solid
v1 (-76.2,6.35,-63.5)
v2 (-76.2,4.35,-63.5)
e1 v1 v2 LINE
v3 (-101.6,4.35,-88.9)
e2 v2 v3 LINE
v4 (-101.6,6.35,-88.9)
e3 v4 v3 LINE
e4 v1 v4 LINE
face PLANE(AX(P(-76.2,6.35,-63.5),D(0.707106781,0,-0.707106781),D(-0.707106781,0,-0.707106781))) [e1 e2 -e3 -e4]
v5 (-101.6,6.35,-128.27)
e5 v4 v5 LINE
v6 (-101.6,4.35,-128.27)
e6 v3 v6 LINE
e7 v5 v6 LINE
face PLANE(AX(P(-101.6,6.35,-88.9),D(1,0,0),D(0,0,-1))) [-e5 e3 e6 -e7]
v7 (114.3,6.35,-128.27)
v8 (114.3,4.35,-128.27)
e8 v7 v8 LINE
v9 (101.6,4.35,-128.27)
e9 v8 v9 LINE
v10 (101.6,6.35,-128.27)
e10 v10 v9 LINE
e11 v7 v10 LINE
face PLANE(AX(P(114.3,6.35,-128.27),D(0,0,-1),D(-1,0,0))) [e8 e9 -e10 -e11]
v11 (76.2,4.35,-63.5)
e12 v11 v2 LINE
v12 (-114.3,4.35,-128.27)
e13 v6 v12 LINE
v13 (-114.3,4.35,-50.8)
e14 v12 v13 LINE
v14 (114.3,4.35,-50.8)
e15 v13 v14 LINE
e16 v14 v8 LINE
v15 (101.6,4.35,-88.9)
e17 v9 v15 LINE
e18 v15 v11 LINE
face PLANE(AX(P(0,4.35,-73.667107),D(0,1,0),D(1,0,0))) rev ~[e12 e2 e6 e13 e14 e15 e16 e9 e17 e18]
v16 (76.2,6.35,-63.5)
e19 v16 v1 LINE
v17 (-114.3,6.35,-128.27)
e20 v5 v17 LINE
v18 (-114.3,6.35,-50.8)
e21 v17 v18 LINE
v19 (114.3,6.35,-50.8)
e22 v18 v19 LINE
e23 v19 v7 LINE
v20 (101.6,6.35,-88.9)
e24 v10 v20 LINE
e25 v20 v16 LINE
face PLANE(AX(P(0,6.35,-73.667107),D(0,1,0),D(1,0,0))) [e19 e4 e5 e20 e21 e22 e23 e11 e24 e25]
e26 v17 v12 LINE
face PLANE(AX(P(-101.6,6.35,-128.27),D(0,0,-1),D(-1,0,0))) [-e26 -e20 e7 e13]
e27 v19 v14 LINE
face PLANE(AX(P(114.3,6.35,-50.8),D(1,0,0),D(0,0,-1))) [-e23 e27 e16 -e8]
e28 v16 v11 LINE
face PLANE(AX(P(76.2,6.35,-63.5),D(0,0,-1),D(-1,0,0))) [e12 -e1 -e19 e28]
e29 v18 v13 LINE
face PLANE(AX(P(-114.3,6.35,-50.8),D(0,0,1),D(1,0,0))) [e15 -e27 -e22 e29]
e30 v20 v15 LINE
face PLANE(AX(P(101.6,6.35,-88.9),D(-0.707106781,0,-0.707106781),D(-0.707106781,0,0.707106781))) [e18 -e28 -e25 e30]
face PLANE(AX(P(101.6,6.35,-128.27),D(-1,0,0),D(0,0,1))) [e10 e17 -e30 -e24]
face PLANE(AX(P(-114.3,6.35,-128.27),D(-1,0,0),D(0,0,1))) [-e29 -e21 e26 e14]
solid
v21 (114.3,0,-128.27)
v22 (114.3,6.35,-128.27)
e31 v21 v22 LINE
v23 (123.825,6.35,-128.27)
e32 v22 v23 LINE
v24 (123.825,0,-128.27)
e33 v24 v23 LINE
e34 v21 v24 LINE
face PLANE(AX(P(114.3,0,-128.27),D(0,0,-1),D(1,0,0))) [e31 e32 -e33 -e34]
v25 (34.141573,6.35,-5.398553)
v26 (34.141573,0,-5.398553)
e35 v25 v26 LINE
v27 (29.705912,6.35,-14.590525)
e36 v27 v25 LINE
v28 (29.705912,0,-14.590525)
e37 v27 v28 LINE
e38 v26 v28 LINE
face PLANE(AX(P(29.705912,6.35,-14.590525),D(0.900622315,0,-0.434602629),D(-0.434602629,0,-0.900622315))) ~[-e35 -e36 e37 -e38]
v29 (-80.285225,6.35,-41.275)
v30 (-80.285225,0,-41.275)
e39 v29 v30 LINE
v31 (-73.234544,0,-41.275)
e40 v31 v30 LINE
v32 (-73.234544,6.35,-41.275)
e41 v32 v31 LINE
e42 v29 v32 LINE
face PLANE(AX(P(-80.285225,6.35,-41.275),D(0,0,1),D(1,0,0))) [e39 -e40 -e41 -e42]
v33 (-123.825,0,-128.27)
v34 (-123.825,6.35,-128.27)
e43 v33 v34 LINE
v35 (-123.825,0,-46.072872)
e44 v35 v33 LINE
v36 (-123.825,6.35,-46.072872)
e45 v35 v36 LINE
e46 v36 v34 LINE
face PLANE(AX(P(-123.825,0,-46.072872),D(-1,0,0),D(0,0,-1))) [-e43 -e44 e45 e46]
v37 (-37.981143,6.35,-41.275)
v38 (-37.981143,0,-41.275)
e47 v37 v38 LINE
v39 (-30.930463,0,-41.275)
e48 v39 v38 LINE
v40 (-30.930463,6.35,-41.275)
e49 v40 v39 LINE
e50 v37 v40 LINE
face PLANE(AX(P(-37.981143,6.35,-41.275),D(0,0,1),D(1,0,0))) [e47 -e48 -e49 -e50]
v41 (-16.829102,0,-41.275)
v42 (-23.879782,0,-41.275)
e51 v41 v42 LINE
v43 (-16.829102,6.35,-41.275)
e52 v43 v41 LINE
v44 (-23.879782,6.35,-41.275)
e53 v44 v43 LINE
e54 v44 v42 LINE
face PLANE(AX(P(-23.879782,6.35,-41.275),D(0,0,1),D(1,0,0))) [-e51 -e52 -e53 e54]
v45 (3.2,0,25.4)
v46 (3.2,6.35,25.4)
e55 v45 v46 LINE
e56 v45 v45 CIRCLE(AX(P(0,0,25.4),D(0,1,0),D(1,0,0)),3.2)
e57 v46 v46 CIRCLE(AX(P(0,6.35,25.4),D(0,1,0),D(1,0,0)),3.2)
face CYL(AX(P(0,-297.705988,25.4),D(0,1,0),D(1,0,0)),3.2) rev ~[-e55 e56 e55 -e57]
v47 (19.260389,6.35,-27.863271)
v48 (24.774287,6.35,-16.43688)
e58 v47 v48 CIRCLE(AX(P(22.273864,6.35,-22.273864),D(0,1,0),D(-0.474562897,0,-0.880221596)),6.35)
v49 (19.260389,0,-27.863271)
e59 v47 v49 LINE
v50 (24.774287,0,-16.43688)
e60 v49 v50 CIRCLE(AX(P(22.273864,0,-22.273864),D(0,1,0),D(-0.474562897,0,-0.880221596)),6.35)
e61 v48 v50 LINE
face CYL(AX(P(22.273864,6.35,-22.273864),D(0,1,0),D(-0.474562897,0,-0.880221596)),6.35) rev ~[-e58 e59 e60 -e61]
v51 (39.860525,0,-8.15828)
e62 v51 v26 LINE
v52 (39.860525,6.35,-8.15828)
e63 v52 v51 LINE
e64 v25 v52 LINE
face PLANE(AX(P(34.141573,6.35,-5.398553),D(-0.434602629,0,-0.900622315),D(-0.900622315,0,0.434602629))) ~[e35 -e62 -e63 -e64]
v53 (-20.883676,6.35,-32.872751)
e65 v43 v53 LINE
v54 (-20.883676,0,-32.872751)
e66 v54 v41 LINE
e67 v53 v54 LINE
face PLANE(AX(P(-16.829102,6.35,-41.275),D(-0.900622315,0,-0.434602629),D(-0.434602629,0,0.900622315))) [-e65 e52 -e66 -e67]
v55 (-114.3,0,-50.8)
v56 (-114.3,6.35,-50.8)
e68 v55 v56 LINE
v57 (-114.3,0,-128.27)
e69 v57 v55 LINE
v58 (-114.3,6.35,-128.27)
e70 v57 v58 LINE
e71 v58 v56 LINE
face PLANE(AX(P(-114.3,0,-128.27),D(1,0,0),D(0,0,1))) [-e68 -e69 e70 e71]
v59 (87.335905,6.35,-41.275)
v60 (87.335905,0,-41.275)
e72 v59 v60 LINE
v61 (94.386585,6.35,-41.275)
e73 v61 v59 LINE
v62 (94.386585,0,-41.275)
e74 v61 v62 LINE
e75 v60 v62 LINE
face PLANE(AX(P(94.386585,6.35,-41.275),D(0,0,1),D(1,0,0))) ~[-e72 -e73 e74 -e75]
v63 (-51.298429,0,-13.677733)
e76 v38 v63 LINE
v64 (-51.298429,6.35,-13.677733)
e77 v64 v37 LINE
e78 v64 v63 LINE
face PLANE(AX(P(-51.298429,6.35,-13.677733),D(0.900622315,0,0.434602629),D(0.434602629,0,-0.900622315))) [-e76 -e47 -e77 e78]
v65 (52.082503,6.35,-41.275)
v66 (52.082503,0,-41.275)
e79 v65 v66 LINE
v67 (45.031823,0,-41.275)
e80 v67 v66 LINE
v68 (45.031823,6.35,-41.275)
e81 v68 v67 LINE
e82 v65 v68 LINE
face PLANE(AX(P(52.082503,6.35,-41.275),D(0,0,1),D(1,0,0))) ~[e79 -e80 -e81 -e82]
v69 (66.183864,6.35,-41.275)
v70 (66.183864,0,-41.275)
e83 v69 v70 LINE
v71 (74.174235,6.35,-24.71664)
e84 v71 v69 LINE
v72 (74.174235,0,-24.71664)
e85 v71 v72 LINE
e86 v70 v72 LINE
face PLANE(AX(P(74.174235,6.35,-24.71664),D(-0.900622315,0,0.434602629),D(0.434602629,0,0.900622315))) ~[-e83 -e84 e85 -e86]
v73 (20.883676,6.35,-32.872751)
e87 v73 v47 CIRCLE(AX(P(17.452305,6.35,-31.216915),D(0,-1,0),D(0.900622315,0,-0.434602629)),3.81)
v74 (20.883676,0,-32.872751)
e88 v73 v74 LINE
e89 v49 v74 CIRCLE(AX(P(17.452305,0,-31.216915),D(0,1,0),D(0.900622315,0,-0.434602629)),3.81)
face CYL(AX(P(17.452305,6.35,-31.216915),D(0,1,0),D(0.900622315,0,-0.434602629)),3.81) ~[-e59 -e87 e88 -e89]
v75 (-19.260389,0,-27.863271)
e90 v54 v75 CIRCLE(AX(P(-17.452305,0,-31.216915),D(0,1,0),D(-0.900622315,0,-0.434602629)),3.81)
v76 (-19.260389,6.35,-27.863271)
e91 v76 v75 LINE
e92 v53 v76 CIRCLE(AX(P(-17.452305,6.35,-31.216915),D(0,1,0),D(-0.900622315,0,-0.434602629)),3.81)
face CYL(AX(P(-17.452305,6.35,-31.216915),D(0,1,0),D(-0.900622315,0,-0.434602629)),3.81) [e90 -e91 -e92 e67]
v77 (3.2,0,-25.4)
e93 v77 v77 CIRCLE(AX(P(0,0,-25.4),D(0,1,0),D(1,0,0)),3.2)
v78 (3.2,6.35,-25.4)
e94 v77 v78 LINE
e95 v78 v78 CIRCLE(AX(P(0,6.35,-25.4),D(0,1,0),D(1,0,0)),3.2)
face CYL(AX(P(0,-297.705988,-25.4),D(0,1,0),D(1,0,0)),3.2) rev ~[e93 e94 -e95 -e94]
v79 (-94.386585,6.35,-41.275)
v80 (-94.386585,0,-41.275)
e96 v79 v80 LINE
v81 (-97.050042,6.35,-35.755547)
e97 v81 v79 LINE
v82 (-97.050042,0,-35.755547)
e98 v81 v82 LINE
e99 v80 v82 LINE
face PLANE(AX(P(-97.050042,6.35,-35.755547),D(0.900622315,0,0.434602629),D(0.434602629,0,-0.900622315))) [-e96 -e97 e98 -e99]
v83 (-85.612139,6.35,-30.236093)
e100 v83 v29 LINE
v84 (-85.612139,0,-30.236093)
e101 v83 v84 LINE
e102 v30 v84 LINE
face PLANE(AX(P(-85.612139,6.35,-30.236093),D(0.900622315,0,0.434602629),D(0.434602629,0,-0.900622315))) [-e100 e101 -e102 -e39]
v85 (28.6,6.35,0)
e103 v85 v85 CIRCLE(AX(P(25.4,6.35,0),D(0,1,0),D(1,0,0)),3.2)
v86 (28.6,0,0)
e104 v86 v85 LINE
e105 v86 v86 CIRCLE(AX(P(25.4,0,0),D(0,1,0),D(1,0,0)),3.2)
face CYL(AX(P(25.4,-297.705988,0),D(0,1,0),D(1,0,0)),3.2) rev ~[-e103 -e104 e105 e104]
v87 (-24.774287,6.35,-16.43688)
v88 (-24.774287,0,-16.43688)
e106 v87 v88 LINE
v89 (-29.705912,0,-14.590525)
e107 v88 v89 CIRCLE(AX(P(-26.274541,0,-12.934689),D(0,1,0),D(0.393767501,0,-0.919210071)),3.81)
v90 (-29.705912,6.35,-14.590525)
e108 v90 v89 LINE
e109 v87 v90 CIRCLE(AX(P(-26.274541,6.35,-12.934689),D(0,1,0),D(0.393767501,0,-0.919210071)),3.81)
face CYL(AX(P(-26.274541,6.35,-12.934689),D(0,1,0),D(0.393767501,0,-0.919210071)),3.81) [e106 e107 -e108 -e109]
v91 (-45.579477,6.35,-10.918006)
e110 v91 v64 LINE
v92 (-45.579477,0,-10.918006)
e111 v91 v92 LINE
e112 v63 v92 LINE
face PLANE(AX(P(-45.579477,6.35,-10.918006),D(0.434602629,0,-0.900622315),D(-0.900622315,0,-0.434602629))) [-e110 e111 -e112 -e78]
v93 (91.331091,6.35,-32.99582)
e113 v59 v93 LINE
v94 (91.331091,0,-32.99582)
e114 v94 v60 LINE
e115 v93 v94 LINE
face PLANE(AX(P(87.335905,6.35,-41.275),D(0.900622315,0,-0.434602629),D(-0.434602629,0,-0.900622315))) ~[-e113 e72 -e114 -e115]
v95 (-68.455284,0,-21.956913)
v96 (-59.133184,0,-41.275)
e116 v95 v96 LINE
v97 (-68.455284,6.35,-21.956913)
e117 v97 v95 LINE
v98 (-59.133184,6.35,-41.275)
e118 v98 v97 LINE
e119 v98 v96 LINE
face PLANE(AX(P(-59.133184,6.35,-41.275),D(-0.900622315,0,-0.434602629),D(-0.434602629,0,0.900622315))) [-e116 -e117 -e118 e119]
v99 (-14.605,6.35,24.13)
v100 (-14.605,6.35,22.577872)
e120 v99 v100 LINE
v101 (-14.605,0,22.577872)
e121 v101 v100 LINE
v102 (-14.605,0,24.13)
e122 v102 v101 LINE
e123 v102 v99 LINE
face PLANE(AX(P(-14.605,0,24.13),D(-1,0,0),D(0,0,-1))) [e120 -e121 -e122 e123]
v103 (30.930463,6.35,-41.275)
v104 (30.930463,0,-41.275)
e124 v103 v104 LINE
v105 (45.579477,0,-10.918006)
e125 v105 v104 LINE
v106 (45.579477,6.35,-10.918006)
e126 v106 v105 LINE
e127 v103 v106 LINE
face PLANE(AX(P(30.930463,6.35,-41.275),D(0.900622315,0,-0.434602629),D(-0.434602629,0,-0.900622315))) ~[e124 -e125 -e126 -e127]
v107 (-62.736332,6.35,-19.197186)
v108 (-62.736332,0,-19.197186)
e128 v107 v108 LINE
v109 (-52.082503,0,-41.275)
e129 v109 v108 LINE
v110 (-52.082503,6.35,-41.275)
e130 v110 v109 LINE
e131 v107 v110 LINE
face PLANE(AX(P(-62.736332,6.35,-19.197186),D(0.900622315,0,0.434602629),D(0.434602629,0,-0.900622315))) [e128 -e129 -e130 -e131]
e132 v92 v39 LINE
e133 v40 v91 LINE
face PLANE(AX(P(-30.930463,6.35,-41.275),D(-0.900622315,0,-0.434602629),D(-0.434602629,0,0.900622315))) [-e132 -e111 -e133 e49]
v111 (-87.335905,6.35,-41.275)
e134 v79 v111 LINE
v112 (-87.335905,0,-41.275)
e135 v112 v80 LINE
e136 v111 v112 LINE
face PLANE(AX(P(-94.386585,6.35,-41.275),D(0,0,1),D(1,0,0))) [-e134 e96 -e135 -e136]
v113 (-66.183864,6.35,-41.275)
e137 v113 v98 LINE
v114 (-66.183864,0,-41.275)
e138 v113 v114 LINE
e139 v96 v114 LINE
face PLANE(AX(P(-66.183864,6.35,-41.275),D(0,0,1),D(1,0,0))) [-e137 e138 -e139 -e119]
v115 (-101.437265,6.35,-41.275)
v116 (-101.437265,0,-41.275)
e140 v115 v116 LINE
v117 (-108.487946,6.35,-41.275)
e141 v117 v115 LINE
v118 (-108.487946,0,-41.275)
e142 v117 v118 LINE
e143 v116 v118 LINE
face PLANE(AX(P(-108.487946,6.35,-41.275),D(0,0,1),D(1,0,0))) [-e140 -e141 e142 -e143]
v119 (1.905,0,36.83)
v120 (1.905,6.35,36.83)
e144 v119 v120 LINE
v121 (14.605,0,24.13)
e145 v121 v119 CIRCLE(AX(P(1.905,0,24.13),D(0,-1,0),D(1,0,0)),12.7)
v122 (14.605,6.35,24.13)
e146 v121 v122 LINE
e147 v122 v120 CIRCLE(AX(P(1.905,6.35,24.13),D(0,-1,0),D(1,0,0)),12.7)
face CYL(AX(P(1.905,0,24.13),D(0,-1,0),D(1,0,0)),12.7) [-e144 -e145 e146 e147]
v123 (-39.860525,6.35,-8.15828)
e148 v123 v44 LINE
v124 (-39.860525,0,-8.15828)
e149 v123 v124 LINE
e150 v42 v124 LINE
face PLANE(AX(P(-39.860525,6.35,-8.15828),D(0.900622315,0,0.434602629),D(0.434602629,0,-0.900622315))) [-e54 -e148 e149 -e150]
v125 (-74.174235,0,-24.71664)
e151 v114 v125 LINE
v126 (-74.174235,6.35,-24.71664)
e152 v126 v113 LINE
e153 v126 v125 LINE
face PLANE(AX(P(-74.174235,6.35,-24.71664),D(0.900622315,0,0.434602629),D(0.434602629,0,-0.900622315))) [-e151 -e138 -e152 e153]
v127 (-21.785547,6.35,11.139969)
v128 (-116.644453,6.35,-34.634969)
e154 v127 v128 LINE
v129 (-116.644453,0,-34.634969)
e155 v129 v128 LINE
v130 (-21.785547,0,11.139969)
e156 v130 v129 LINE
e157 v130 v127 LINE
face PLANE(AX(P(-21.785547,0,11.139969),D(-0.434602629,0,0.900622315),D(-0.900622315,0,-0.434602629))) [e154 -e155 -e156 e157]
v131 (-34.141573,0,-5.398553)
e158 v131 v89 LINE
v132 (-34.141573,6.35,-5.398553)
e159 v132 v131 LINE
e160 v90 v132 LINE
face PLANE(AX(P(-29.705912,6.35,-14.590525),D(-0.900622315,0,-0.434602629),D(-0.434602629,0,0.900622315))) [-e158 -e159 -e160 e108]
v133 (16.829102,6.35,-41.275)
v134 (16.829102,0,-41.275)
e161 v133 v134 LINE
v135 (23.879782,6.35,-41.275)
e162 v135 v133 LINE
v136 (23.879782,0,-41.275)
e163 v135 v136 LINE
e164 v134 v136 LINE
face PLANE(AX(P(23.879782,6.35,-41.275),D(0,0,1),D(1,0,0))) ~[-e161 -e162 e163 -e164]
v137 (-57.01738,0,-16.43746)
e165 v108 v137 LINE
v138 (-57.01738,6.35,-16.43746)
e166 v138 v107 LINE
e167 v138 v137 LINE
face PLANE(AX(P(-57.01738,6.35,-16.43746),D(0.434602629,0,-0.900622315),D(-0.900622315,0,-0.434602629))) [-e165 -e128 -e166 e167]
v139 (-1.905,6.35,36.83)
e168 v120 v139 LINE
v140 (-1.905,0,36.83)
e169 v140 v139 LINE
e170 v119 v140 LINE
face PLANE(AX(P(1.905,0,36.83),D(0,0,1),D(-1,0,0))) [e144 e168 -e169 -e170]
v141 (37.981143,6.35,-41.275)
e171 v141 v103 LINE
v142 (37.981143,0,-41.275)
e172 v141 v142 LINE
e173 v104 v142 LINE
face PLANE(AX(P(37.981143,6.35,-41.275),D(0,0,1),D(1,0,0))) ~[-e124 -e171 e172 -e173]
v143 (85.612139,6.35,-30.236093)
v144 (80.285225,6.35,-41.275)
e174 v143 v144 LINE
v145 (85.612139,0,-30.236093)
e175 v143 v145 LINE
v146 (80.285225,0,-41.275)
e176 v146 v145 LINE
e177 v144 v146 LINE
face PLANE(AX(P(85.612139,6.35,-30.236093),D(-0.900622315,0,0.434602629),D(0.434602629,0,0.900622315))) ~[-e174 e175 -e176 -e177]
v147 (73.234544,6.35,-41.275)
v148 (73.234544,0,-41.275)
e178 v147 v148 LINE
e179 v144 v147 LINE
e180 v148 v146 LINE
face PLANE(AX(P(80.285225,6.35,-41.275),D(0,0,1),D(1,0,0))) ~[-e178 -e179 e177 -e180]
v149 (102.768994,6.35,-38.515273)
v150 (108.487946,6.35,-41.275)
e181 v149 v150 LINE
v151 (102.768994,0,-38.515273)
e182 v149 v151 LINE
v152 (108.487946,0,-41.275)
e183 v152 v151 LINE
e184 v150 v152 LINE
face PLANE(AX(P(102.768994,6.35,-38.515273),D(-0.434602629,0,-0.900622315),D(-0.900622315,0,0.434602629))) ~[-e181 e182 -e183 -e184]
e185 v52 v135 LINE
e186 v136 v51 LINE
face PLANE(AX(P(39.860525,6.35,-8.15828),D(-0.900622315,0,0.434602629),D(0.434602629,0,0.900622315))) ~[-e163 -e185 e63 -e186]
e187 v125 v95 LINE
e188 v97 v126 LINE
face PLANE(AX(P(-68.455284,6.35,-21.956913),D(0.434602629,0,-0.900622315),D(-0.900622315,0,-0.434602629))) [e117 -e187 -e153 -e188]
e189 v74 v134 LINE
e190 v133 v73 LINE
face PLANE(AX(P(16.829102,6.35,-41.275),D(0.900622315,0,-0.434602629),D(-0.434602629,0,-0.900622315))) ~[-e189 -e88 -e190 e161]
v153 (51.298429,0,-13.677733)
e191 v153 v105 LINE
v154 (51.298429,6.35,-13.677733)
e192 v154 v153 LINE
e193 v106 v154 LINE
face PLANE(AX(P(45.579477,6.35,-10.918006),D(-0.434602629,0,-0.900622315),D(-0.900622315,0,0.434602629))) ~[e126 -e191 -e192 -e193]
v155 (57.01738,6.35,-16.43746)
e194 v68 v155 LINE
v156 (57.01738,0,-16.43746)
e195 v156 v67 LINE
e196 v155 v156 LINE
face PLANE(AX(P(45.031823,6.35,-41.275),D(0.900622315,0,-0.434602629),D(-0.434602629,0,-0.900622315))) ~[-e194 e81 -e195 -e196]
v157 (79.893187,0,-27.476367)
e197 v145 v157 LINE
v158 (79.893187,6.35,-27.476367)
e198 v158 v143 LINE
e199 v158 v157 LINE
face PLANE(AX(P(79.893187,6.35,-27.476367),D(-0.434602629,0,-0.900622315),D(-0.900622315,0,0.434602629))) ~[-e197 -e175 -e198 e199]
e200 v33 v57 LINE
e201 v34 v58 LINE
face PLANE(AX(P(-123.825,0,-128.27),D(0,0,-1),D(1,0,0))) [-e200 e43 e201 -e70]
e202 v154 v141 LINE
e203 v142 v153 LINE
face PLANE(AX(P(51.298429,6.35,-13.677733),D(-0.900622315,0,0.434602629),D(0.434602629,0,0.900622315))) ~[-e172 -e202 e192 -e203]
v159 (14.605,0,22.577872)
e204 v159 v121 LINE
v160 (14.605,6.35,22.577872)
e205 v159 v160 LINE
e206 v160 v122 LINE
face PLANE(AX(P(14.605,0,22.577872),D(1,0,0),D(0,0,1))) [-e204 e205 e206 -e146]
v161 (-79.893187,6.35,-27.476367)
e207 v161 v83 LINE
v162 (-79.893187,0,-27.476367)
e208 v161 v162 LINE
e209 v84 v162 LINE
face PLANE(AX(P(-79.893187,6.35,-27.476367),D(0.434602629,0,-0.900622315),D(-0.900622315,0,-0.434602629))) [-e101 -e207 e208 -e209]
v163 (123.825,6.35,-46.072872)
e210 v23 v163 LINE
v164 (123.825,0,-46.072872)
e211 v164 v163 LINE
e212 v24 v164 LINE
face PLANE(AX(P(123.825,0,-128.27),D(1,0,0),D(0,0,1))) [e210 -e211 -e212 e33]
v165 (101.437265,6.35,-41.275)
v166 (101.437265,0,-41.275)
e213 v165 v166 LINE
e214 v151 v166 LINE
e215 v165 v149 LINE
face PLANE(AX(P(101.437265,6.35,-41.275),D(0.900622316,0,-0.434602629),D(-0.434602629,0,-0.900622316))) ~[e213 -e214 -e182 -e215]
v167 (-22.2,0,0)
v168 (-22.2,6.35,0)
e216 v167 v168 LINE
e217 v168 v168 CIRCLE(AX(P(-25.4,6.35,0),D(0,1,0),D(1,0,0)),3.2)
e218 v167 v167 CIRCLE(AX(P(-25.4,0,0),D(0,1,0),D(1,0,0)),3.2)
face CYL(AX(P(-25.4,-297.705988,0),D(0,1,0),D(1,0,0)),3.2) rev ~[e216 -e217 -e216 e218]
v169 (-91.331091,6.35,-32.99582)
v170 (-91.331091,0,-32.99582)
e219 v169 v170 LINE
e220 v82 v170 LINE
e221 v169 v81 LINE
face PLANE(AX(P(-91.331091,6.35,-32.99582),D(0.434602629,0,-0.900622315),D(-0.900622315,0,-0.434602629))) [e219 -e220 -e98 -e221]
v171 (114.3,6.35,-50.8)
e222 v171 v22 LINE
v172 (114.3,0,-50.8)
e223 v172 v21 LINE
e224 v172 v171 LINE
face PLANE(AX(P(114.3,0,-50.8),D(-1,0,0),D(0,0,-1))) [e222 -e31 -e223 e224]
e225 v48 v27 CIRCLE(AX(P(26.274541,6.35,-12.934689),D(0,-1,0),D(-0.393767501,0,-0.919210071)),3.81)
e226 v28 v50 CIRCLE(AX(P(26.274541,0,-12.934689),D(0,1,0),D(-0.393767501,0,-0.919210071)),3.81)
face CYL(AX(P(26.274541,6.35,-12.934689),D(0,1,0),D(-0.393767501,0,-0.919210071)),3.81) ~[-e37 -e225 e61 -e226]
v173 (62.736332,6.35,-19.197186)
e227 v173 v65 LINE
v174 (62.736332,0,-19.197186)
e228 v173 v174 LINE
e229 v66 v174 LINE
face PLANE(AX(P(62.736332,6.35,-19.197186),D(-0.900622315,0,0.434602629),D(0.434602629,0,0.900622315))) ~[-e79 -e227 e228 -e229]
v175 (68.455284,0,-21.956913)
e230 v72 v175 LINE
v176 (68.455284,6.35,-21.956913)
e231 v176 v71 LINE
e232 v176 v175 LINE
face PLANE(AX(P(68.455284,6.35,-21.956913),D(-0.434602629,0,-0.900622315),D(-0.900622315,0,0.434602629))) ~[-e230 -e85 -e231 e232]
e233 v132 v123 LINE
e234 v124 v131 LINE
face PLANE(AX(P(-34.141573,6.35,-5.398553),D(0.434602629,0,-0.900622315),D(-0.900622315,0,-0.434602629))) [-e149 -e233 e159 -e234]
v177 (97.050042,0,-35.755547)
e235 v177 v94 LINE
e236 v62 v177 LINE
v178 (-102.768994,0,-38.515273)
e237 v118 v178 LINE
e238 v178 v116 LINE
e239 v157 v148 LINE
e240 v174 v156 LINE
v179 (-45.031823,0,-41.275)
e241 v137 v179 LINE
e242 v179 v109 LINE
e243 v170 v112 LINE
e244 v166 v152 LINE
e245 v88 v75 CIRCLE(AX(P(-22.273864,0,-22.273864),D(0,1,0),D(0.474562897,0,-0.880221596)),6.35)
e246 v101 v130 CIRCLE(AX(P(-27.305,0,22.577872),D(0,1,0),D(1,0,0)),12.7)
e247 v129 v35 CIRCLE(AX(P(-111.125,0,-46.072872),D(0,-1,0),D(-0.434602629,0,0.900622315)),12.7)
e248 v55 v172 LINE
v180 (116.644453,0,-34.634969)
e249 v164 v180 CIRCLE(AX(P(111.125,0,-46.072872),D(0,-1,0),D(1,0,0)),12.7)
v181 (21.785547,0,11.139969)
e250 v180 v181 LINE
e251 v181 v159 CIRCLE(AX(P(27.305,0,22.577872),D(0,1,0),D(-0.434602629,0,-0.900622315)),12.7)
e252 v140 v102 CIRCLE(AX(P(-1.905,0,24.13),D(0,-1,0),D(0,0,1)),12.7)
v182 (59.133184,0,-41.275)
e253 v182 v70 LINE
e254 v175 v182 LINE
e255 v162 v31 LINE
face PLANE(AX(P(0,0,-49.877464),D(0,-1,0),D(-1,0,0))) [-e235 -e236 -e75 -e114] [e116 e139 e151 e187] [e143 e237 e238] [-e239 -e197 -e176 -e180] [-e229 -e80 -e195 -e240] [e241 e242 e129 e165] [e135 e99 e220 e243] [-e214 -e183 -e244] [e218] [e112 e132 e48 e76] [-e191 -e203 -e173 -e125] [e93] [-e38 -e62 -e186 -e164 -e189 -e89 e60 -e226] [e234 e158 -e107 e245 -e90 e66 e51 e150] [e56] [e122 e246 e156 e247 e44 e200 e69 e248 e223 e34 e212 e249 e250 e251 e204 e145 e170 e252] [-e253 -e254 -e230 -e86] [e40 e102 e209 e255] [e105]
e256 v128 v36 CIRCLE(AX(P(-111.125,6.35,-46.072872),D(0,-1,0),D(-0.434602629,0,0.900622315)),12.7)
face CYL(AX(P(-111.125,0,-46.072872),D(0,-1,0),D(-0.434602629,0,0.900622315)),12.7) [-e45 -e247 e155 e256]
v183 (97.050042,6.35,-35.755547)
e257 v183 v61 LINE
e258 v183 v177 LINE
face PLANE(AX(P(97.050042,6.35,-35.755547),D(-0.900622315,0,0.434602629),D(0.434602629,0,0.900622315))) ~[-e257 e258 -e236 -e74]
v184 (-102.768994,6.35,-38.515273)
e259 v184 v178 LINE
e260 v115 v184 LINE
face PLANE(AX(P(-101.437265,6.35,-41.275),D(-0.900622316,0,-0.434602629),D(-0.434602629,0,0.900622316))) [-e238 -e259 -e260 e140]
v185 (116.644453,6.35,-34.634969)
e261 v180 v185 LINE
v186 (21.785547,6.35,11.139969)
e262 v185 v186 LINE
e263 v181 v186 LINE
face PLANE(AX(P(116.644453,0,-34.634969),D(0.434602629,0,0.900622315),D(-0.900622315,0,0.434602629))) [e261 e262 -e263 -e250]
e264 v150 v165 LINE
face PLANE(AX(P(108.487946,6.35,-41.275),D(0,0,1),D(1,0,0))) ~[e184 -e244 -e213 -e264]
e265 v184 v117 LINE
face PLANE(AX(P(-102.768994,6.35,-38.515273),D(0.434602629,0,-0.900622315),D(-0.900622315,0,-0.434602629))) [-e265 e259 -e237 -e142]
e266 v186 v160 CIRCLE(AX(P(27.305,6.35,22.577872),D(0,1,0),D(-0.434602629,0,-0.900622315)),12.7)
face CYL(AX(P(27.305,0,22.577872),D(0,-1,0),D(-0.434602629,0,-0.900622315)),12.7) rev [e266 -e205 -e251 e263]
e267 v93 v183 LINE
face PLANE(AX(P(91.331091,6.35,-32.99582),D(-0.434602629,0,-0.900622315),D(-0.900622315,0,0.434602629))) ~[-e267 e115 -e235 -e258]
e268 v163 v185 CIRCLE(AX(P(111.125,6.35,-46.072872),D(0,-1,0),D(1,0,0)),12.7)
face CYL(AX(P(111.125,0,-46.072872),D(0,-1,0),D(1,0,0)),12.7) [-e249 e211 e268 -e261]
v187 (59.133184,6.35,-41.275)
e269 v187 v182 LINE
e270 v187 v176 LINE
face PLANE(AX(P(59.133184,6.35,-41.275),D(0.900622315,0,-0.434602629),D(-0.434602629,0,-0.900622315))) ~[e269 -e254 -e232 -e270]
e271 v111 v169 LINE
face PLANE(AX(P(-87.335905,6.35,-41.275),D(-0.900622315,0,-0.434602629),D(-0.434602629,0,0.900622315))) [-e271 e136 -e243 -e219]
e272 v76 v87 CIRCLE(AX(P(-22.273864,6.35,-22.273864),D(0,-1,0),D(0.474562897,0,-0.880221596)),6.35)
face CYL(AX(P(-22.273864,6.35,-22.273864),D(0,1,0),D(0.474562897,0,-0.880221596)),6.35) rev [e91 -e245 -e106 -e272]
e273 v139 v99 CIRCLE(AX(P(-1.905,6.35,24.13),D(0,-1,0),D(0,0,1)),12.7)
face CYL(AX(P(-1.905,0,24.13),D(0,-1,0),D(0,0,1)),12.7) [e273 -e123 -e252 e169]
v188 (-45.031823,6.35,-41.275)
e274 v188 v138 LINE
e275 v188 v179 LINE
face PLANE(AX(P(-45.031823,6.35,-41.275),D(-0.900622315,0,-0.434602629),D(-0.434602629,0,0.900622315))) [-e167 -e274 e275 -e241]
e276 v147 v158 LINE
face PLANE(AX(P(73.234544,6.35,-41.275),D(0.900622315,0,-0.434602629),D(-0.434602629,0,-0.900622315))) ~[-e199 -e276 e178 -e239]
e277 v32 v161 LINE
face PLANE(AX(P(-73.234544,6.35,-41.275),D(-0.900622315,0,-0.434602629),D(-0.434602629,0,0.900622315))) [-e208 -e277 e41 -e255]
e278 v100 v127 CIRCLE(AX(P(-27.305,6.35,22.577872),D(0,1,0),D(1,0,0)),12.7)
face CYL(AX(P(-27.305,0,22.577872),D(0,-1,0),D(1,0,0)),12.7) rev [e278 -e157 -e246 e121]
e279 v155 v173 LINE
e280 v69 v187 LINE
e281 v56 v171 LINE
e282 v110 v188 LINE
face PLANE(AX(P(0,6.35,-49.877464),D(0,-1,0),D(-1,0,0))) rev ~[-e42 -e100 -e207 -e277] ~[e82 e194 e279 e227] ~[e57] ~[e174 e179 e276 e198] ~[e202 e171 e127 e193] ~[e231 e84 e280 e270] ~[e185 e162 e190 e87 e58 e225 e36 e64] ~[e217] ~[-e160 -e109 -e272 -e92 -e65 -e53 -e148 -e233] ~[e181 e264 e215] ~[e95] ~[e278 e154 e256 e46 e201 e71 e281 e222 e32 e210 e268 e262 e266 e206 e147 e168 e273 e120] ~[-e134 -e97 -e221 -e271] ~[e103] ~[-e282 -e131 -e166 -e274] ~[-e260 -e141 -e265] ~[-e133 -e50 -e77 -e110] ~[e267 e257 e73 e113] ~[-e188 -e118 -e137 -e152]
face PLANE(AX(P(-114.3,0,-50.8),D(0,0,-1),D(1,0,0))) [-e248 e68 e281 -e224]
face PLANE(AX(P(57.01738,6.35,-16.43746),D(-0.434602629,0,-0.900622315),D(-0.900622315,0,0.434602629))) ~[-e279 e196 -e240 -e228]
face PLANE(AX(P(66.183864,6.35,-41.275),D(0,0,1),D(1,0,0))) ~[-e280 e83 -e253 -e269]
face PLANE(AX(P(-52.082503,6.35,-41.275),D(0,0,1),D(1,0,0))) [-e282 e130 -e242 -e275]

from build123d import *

# Parameters (mm, degrees)
BOSS_EXTRUDE1_DEPTH  = 6.35
M6_CLEARANCE_HOLE1_D = 6.4
CUT_EXTRUDE1_DEPTH   = 7.35
BOSS_EXTRUDE2_DEPTH  = 2


with BuildPart() as part:
    # Sketch1 → Boss-Extrude1 (new body)
    with BuildSketch(Plane(origin=(0, 0, 0), x_dir=(1, 0, 0), z_dir=(0, 1, 0))):
        with BuildLine():
            Line((-114.3, 128.27), (-114.3, 50.8))
            Line((-114.3, 50.8), (114.3, 50.8))
            Line((114.3, 50.8), (114.3, 128.27))
            Line((114.3, 128.27), (123.825, 128.27))
            Line((123.825, 128.27), (123.825, 46.072872191))
            ThreePointArc((123.825, 46.072872191), (121.881092646, 39.32035629), (116.644453387, 34.634968786))
            Line((116.644453387, 34.634968786), (21.785546613, -11.139968786))
            ThreePointArc((21.785546613, -11.139968786), (16.548907354, -15.82535629), (14.605, -22.577872191))
            Line((14.605, -22.577872191), (14.605, -24.13))
            ThreePointArc((14.605, -24.13), (10.885256121, -33.110256121), (1.905, -36.83))
            Line((1.905, -36.83), (-1.905, -36.83))
            ThreePointArc((-1.905, -36.83), (-10.885256121, -33.110256121), (-14.605, -24.13))
            Line((-14.605, -24.13), (-14.605, -22.577872191))
            ThreePointArc((-14.605, -22.577872191), (-16.548907354, -15.82535629), (-21.785546613, -11.139968786))
            Line((-21.785546613, -11.139968786), (-116.644453387, 34.634968786))
            ThreePointArc((-116.644453387, 34.634968786), (-121.881092646, 39.32035629), (-123.825, 46.072872191))
            Line((-123.825, 46.072872191), (-123.825, 128.27))
            Line((-123.825, 128.27), (-114.3, 128.27))
        make_face()
    extrude(amount=BOSS_EXTRUDE1_DEPTH)

    # M6 Clearance Hole1 (through all)
    with Locations(Plane(origin=(0, 0, 0), x_dir=(-1, 0, 0), z_dir=(0, -1, 0))):
        with Locations((0, 25.4), (0, -25.4), (-25.4, 0), (25.4, 0)):
            Hole(M6_CLEARANCE_HOLE1_D / 2)

    # Sketch7 → Cut-Extrude1 (cut, through all)
    with BuildSketch(Plane(origin=(0, 6.35, 0), x_dir=(1, 0, 0), z_dir=(0, 1, 0))):
        Polygon((-62.736332011, 19.197186451), (-52.082503379, 41.275), (-45.031823098, 41.275), (-57.017380308, 16.437459757), align=None)
        Polygon((-108.487945631, 41.275), (-101.43726535, 41.275), (-102.768993928, 38.515273306), align=None)
        Polygon((-97.050042226, 35.755546613), (-94.386585068, 41.275), (-87.335904787, 41.275), (-91.331090523, 32.995819919), align=None)
        Polygon((-80.285224505, 41.275), (-73.234544224, 41.275), (-79.893187118, 27.476366532), (-85.612138821, 30.236093225), align=None)
        Polygon((-74.174235416, 24.716639838), (-66.183863942, 41.275), (-59.133183661, 41.275), (-68.455283713, 21.956913144), align=None)
        Polygon((-51.298428605, 13.677733063), (-37.981142816, 41.275), (-30.930462535, 41.275), (-45.579476903, 10.91800637), align=None)
        with BuildLine():
            Line((-39.8605252, 8.158279676), (-23.879782253, 41.275))
            Line((-23.879782253, 41.275), (-16.829101972, 41.275))
            Line((-16.829101972, 41.275), (-20.883675601, 32.872751034))
            ThreePointArc((-20.883675601, 32.872751034), (-21.07676276, 30.042435177), (-19.260389215, 27.863270739))
            ThreePointArc((-19.260389215, 27.863270739), (-16.554911905, 19.514136914), (-24.774287238, 16.436879654))
            ThreePointArc((-24.774287238, 16.436879654), (-27.61041535, 16.50281776), (-29.705912438, 14.590525299))
            Line((-29.705912438, 14.590525299), (-34.141573498, 5.398552982))
            Line((-34.141573498, 5.398552982), (-39.8605252, 8.158279676))
        make_face()
    cut_extrude1 = extrude(amount=-CUT_EXTRUDE1_DEPTH, mode=Mode.SUBTRACT)

    # Mirror1: Cut-Extrude1 across plane
    add(cut_extrude1.mirror(Plane(origin=(0, 0, 0), x_dir=(0, 0, 1), z_dir=(1, 0, 0))), mode=Mode.SUBTRACT)


with BuildPart() as body_2:
    # Sketch8 → Boss-Extrude2 (new body)
    with BuildSketch(Plane(origin=(0, 6.35, 0), x_dir=(1, 0, 0), z_dir=(0, 1, 0))):
        Polygon((114.3, 128.27), (101.6, 128.27), (101.6, 88.9), (76.2, 63.5), (-76.2, 63.5), (-101.6, 88.9), (-101.6, 128.27), (-114.3, 128.27), (-114.3, 50.8), (114.3, 50.8), align=None)
    extrude(amount=-BOSS_EXTRUDE2_DEPTH)


solid = Compound([part.part, body_2.part])
